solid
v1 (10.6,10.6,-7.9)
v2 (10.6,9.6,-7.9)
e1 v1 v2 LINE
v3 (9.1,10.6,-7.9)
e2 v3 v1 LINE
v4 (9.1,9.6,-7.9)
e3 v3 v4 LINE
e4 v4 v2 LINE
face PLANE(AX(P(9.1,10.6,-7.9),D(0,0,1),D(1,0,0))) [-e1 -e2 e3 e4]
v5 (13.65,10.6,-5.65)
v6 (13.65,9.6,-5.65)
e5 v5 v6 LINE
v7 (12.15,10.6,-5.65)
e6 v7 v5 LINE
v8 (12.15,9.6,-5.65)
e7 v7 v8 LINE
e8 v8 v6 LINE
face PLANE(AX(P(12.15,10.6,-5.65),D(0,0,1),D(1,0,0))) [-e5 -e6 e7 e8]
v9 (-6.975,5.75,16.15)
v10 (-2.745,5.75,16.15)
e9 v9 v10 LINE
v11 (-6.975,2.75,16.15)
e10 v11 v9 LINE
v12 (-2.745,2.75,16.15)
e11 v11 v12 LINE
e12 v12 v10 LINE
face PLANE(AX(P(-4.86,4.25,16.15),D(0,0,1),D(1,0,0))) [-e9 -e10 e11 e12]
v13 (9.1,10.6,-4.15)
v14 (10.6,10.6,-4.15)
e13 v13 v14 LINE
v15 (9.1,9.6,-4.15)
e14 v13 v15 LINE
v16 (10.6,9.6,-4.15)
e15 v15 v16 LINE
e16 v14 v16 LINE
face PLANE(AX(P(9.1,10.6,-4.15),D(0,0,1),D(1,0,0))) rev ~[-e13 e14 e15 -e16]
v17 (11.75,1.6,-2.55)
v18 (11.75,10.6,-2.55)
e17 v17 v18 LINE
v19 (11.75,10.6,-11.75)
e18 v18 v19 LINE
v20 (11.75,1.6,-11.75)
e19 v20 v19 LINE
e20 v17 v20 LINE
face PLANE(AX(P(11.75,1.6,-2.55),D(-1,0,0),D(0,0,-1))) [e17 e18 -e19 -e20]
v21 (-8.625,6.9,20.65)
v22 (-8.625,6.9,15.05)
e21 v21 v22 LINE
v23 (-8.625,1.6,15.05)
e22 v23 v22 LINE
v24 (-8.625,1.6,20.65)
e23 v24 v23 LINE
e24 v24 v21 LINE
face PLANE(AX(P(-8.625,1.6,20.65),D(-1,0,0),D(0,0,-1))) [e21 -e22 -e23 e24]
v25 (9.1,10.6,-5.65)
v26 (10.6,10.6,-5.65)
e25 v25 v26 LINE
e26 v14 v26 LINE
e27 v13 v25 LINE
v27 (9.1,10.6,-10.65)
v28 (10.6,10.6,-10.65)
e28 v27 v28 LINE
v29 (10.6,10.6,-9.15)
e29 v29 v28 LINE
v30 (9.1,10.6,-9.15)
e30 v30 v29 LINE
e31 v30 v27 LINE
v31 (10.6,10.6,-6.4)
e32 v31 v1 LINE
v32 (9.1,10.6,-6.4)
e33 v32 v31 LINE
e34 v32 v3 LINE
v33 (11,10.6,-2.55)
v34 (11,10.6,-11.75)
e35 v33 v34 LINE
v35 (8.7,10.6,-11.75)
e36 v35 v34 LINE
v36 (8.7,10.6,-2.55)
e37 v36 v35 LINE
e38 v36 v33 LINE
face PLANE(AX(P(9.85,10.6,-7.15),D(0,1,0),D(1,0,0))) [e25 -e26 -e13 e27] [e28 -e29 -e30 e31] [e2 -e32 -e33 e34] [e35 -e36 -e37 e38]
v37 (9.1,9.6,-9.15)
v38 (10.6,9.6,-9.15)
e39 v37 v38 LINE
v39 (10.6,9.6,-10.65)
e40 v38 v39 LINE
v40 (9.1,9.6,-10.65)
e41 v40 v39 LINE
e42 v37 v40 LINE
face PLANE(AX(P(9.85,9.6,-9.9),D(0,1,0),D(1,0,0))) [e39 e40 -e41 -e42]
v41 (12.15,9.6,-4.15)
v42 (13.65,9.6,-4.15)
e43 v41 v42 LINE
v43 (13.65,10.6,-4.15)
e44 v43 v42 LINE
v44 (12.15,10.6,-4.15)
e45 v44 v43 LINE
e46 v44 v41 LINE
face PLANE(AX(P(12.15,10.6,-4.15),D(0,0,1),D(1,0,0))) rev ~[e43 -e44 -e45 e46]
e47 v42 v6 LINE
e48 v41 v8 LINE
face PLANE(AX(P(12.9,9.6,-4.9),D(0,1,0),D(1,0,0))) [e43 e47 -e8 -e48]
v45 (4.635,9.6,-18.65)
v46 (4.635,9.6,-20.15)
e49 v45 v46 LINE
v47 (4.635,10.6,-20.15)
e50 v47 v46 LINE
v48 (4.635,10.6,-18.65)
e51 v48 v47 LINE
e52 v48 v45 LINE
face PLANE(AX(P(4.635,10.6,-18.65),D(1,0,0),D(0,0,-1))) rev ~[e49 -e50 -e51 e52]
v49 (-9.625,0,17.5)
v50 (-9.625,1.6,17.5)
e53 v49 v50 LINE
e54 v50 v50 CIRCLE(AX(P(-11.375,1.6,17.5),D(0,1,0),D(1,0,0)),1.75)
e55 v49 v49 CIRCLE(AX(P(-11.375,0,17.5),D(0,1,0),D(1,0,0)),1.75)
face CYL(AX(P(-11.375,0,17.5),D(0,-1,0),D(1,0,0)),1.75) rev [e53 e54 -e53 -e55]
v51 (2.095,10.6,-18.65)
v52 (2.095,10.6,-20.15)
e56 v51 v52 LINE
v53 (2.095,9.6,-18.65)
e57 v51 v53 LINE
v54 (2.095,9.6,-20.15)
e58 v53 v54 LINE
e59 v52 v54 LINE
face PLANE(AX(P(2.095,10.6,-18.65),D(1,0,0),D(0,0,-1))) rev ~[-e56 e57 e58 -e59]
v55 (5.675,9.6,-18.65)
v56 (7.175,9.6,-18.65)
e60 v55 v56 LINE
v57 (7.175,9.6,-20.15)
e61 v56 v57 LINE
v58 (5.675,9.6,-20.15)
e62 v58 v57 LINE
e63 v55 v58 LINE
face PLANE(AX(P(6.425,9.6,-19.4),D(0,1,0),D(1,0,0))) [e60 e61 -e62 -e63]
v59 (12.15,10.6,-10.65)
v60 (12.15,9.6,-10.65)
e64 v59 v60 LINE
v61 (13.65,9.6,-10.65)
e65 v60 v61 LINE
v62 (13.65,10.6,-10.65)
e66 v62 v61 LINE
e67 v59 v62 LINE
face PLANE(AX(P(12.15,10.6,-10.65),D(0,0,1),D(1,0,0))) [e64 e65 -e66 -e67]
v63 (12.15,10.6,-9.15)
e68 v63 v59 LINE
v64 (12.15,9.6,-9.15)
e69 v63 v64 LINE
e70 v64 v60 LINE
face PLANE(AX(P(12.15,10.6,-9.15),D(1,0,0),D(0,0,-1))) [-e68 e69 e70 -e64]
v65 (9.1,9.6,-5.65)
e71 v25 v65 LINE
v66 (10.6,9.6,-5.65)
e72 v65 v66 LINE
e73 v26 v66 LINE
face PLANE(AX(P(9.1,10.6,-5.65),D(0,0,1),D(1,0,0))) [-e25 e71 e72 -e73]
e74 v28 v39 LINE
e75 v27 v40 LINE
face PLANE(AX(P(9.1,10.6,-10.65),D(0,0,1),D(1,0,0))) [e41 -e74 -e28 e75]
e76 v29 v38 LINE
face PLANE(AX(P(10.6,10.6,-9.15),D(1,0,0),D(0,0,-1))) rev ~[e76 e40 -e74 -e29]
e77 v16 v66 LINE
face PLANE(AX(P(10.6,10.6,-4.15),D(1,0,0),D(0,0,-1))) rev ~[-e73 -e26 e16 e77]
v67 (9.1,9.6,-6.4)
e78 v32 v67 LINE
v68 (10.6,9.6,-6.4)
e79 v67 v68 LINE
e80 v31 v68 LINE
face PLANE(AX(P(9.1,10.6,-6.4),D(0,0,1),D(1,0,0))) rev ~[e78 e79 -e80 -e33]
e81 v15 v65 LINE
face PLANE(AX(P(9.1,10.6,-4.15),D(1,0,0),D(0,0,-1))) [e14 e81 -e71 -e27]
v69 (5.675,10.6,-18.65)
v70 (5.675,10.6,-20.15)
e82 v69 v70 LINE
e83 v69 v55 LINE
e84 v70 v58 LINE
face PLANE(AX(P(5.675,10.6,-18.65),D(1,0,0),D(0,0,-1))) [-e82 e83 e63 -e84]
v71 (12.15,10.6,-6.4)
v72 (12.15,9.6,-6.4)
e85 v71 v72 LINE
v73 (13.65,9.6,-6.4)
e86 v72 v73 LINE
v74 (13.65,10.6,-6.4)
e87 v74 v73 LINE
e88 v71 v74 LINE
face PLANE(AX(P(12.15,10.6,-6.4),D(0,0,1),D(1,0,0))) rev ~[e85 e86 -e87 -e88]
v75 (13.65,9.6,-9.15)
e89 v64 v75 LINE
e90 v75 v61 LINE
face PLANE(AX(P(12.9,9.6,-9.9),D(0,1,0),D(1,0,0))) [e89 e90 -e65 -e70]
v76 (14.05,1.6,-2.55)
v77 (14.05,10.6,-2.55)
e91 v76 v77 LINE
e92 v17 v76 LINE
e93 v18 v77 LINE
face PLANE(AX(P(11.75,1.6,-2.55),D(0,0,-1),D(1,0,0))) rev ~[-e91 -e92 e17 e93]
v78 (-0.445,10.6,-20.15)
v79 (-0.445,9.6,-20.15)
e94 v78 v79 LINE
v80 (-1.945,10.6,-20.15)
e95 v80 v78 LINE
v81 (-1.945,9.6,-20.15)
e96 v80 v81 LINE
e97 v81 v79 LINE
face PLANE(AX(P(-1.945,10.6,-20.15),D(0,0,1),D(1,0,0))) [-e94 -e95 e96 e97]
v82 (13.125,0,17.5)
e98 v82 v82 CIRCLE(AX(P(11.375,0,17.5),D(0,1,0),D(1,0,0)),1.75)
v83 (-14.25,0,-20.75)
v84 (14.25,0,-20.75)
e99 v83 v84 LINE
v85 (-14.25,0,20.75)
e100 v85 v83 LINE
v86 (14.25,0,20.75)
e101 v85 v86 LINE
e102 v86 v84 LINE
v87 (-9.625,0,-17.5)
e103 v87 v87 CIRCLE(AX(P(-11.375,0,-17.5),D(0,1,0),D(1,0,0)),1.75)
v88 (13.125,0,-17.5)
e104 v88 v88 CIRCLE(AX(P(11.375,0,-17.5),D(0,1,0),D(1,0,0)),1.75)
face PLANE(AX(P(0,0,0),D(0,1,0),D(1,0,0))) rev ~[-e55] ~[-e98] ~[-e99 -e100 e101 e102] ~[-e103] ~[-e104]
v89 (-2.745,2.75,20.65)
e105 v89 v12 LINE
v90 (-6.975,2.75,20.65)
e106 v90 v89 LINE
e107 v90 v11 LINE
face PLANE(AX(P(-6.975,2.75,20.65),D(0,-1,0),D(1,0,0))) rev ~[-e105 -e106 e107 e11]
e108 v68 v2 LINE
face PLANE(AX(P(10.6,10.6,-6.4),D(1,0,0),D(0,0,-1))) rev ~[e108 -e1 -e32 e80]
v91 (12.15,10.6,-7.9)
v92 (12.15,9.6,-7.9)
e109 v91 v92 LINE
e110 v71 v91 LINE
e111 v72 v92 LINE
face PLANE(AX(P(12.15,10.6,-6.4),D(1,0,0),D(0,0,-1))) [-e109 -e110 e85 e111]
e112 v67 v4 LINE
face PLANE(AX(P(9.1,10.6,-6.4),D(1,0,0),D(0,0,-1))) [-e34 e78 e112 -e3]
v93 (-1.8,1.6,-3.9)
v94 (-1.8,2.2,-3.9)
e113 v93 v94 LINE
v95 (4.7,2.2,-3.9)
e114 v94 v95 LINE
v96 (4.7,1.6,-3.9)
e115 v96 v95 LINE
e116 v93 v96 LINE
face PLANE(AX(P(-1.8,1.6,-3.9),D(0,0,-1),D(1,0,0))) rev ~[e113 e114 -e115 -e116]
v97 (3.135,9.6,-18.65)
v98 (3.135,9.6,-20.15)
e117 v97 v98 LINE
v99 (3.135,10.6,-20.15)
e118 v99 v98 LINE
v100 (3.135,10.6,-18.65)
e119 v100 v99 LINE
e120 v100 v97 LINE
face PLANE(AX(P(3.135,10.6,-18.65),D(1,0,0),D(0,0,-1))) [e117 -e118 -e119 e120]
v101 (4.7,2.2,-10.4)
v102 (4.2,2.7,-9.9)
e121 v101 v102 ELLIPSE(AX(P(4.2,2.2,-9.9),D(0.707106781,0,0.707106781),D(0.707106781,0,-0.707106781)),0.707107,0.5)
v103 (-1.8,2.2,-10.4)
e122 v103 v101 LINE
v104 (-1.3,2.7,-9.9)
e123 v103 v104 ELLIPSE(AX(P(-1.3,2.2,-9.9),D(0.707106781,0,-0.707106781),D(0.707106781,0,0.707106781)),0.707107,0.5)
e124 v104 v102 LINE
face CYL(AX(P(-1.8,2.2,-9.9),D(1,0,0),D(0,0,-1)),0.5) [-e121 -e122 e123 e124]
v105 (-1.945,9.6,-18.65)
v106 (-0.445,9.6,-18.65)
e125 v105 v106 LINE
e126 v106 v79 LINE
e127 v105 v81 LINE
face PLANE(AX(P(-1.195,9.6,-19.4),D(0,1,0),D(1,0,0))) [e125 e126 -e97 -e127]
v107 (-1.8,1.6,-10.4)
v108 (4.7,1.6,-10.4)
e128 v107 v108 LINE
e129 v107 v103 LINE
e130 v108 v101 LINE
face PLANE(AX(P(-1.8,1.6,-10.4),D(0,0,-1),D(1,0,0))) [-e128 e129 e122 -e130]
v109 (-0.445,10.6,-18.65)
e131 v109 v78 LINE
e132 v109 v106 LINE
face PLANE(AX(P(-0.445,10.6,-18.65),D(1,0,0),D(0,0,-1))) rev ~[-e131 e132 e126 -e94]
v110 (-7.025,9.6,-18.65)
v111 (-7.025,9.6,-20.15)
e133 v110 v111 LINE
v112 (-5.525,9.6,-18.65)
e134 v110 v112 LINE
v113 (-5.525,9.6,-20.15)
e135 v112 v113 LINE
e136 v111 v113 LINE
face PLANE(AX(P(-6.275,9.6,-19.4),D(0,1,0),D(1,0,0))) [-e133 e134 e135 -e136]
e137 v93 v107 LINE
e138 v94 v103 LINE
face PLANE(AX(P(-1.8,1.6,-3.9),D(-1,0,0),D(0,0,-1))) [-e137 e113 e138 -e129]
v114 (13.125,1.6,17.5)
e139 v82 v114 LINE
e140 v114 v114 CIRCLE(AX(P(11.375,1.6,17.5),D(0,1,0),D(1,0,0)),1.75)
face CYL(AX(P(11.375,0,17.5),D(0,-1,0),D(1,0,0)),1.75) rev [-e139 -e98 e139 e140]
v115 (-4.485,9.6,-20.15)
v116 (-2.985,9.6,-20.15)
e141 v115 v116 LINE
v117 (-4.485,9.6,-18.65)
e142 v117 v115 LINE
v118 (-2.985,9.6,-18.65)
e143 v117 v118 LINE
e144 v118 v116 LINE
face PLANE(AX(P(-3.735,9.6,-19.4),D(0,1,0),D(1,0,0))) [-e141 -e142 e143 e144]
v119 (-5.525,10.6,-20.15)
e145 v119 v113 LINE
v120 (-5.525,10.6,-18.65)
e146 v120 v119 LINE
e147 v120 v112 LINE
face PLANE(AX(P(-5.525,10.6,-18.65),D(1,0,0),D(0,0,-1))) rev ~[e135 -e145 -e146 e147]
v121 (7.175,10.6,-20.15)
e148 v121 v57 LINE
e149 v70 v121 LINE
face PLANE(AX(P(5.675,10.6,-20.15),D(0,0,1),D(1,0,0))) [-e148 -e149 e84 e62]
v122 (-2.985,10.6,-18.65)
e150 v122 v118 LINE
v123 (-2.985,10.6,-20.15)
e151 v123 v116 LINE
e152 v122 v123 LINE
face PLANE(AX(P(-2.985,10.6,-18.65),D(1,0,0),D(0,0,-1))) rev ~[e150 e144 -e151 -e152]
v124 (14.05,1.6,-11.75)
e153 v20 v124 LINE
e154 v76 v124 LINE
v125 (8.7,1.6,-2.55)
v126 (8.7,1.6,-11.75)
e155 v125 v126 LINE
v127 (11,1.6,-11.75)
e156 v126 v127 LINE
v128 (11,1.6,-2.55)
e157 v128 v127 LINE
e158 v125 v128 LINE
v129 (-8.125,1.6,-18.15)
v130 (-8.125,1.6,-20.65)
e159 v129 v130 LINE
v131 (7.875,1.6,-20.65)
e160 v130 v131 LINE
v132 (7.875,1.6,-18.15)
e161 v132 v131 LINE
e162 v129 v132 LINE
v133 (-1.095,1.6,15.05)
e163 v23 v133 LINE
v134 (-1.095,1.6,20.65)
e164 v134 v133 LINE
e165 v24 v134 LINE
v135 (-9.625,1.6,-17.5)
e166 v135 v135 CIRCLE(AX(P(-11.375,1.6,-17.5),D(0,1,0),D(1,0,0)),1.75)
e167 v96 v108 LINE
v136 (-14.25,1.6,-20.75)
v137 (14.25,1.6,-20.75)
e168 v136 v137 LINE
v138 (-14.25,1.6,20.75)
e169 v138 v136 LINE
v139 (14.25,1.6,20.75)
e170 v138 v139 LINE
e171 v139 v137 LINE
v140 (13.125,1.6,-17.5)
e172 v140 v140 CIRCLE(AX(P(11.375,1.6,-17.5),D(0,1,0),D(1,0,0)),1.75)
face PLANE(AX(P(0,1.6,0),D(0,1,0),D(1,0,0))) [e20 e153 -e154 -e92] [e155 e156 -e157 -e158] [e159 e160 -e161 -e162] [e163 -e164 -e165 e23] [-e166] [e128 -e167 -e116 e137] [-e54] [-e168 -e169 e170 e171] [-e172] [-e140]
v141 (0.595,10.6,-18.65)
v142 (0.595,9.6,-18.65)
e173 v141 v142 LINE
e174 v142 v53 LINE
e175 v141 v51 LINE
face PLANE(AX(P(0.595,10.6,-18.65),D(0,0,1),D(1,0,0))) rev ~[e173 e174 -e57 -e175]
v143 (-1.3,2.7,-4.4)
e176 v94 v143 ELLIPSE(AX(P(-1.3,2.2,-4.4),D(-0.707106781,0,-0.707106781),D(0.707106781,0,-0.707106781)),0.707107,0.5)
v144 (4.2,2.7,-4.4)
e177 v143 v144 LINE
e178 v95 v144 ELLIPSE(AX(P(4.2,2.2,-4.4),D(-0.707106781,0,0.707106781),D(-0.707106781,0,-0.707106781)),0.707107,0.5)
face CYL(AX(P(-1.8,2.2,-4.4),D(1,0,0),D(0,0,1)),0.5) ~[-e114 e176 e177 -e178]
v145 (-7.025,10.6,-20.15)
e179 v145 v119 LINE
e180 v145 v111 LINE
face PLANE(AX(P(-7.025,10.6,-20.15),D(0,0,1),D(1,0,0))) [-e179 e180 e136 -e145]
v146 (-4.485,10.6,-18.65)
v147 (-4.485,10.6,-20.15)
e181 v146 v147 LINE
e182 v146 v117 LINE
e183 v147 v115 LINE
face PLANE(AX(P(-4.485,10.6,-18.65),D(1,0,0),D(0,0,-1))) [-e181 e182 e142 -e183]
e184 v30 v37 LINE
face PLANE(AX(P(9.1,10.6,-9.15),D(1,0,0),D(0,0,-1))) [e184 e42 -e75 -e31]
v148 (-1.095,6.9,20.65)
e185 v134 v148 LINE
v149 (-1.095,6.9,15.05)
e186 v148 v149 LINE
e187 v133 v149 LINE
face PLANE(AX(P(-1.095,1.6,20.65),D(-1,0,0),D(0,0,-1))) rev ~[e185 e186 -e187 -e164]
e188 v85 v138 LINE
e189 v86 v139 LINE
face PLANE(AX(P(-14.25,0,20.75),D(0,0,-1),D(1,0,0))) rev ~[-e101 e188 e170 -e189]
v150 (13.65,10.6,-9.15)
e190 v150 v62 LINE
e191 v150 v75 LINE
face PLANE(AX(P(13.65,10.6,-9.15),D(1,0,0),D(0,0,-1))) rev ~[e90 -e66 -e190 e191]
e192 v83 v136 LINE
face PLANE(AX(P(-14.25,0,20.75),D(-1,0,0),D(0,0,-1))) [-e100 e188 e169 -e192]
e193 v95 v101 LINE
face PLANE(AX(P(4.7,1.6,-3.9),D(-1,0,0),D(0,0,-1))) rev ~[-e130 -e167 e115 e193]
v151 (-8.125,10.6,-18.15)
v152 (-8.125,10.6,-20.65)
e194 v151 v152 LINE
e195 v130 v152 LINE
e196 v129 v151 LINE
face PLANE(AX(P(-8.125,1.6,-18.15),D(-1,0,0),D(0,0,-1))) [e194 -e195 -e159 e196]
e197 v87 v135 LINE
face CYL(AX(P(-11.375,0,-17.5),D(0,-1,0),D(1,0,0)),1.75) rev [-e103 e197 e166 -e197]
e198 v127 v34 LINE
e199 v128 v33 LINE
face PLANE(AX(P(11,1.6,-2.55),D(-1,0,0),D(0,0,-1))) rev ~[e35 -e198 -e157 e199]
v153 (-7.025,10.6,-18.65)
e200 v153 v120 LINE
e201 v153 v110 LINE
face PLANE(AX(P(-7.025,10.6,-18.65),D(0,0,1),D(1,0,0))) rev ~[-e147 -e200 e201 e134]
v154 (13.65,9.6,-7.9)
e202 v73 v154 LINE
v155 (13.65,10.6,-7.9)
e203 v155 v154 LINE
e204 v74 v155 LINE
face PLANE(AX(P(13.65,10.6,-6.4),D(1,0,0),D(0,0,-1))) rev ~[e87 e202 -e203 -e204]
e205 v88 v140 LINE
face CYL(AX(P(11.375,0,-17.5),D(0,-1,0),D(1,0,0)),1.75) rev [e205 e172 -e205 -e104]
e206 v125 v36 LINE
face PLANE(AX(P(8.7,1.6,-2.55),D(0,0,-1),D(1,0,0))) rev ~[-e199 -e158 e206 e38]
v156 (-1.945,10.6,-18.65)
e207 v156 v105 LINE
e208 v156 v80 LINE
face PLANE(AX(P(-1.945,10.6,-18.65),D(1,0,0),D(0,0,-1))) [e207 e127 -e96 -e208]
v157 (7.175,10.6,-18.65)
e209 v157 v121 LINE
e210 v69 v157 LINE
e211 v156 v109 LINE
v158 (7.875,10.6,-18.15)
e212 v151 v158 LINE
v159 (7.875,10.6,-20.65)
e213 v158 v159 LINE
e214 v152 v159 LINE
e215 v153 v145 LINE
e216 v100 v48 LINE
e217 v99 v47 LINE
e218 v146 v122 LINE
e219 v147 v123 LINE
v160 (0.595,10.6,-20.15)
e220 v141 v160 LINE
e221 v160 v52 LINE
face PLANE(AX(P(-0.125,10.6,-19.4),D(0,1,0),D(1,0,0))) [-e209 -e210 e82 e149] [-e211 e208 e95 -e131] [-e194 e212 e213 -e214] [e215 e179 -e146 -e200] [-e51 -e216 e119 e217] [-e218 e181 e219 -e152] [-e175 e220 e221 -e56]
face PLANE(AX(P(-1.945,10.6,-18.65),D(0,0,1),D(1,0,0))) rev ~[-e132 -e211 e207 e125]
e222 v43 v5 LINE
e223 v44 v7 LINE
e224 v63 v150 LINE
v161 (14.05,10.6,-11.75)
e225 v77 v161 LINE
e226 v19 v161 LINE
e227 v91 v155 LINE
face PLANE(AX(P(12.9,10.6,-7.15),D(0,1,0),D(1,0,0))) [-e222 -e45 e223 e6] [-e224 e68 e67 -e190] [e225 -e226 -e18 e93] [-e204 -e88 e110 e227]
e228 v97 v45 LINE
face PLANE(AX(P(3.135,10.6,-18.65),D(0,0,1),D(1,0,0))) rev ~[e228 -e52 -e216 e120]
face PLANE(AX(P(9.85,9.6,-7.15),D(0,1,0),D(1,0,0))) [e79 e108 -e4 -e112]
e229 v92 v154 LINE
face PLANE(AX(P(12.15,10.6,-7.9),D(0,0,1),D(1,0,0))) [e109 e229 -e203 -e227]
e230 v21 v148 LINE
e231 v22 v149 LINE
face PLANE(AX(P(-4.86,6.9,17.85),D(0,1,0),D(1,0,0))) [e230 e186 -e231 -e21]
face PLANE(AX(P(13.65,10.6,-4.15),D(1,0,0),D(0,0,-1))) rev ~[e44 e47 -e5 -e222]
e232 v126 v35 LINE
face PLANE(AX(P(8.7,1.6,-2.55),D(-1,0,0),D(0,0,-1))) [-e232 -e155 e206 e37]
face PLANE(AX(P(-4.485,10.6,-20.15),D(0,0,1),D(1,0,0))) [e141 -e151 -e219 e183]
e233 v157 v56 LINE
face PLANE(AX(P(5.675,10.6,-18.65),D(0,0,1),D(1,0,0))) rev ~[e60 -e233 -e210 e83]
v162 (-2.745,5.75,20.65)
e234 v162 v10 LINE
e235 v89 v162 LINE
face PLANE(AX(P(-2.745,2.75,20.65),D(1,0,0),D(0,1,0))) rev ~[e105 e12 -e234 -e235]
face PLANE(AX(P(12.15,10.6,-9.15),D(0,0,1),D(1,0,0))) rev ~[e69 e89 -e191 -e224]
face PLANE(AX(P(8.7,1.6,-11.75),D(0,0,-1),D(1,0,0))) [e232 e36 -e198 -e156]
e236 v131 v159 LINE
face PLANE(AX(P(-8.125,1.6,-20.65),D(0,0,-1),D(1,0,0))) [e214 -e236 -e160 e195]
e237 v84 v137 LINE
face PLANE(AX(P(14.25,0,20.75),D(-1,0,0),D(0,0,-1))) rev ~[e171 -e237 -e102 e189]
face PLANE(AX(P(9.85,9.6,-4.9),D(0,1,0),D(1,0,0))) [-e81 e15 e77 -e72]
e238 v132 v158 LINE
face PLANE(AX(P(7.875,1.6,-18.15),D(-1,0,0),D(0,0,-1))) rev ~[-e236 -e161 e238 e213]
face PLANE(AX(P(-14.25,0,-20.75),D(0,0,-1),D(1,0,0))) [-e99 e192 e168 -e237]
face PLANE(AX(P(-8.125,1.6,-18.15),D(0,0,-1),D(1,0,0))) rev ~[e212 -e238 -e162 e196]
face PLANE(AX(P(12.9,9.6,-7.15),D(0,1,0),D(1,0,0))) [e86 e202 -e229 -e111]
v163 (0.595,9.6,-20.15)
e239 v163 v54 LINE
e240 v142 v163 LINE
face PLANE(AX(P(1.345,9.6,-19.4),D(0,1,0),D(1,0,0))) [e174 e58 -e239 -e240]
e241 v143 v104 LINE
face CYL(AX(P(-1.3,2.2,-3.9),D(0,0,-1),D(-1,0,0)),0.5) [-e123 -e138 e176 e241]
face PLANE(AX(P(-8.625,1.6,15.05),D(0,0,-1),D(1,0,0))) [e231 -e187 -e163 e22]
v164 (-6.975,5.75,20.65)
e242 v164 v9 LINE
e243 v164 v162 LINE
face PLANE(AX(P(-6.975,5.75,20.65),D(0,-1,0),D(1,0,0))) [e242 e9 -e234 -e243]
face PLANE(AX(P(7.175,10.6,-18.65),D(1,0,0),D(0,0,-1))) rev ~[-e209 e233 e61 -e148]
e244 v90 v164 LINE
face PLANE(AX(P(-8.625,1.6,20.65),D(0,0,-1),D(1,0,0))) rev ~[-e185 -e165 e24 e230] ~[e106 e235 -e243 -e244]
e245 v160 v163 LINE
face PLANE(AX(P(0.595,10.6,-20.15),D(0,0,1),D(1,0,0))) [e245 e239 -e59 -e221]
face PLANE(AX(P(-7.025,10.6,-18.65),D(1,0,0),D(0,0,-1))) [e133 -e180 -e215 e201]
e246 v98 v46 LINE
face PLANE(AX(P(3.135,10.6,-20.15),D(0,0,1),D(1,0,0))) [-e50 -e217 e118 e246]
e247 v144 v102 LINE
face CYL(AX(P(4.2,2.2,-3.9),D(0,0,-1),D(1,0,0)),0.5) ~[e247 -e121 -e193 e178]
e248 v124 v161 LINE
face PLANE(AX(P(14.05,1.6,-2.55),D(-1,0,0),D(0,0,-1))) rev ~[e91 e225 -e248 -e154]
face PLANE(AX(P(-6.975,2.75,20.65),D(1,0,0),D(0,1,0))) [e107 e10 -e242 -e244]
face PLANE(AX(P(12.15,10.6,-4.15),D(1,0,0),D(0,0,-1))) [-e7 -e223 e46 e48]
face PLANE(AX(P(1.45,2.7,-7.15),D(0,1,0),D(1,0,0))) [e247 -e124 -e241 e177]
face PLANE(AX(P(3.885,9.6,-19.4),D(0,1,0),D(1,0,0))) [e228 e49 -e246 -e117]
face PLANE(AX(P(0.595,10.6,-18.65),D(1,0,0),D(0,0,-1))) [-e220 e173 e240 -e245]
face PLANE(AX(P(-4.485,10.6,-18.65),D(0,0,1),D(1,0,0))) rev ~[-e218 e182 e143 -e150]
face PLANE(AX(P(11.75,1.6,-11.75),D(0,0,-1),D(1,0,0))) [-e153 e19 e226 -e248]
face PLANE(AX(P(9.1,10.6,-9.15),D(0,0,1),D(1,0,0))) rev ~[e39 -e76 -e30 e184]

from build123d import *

# Parameters (mm, degrees)
SKETCH1_W           = 28.5
SKETCH1_H           = 41.5
SKETCH1_R           = 1.75
BOSS_EXTRUDE1_DEPTH = 1.6
SKETCH2_W           = 2.3
SKETCH2_H           = 9.2
SKETCH2_W_2         = 16
SKETCH2_H_2         = 2.5
BOSS_EXTRUDE2_DEPTH = 9
SKETCH3_W           = 1.5
SKETCH3_H           = 1.5
CUT_EXTRUDE1_DEPTH  = 1
SKETCH4_W           = 6.5
SKETCH4_H           = 6.5
BOSS_EXTRUDE3_DEPTH = 1.1
FILLET1_R           = 0.5
SKETCH5_W           = 7.53
SKETCH5_H           = 5.6
BOSS_EXTRUDE4_DEPTH = 5.3
SKETCH6_W           = 4.23
SKETCH6_H           = 3
CUT_EXTRUDE2_DEPTH  = 4.5


with BuildPart() as part:
    # Sketch1 → Boss-Extrude1 (new body)
    with BuildSketch(Plane(origin=(0, 0, 0), x_dir=(1, 0, 0), z_dir=(0, 1, 0))):
        Rectangle(SKETCH1_W, SKETCH1_H)
        with Locations((11.375, 17.5)):
            Circle(SKETCH1_R, mode=Mode.SUBTRACT)
        with Locations((-11.375, 17.5)):
            Circle(SKETCH1_R, mode=Mode.SUBTRACT)
        with Locations((-11.375, -17.5)):
            Circle(SKETCH1_R, mode=Mode.SUBTRACT)
        with Locations((11.375, -17.5)):
            Circle(SKETCH1_R, mode=Mode.SUBTRACT)
    extrude(amount=BOSS_EXTRUDE1_DEPTH)

    # Sketch2 → Boss-Extrude2 (add)
    with BuildSketch(Plane(origin=(0, 1.6, 0), x_dir=(1, 0, 0), z_dir=(0, 1, 0))):
        with Locations((12.9, 7.15)):
            Rectangle(SKETCH2_W, SKETCH2_H)
        with Locations((9.85, 7.15)):
            Rectangle(SKETCH2_W, SKETCH2_H)
        with Locations((-0.125, 19.4)):
            Rectangle(SKETCH2_W_2, SKETCH2_H_2)
    extrude(amount=BOSS_EXTRUDE2_DEPTH)

    # Sketch3 → Cut-Extrude1 (cut)
    with BuildSketch(Plane(origin=(0, 10.6, 0), x_dir=(1, 0, 0), z_dir=(0, 1, 0))):
        with Locations((12.9, 7.15)):
            Rectangle(SKETCH3_W, SKETCH3_H)
        with Locations((12.9, 9.9)):
            Rectangle(SKETCH3_W, SKETCH3_H)
        with Locations((12.9, 4.9)):
            Rectangle(SKETCH3_W, SKETCH3_H)
        with Locations((9.85, 4.9)):
            Rectangle(SKETCH3_W, SKETCH3_H)
        with Locations((9.85, 7.15)):
            Rectangle(SKETCH3_W, SKETCH3_H)
        with Locations((9.85, 9.9)):
            Rectangle(SKETCH3_W, SKETCH3_H)
        with Locations((6.425, 19.4)):
            Rectangle(SKETCH3_W, SKETCH3_H)
        with Locations((3.885, 19.4)):
            Rectangle(SKETCH3_W, SKETCH3_H)
        with Locations((1.345, 19.4)):
            Rectangle(SKETCH3_W, SKETCH3_H)
        with Locations((-1.195, 19.4)):
            Rectangle(SKETCH3_W, SKETCH3_H)
        with Locations((-3.735, 19.4)):
            Rectangle(SKETCH3_W, SKETCH3_H)
        with Locations((-6.275, 19.4)):
            Rectangle(SKETCH3_W, SKETCH3_H)
    extrude(amount=-CUT_EXTRUDE1_DEPTH, mode=Mode.SUBTRACT)

    # Sketch4 → Boss-Extrude3 (add)
    with BuildSketch(Plane(origin=(0, 1.6, 0), x_dir=(1, 0, 0), z_dir=(0, 1, 0))):
        with Locations((1.45, 7.15)):
            Rectangle(SKETCH4_W, SKETCH4_H)
    extrude(amount=BOSS_EXTRUDE3_DEPTH)

    # Fillet1
    fillet1_edges = [part.edges().sort_by_distance(p)[0] for p in [
        (4.7, 2.7, -7.15),
        (1.45, 2.7, -10.4),
        (-1.8, 2.7, -7.15),
        (1.45, 2.7, -3.9),
    ]]
    fillet(fillet1_edges, radius=FILLET1_R)

    # Sketch5 → Boss-Extrude4 (add)
    with BuildSketch(Plane(origin=(0, 1.6, 0), x_dir=(1, 0, 0), z_dir=(0, 1, 0))):
        with Locations((-4.86, -17.85)):
            Rectangle(SKETCH5_W, SKETCH5_H)
    extrude(amount=BOSS_EXTRUDE4_DEPTH)

    # Sketch6 → Cut-Extrude2 (cut)
    with BuildSketch(Plane.XY.offset(20.65)):
        with Locations((-4.86, 4.25)):
            Rectangle(SKETCH6_W, SKETCH6_H)
    extrude(amount=-CUT_EXTRUDE2_DEPTH, mode=Mode.SUBTRACT)


solid = part.part
